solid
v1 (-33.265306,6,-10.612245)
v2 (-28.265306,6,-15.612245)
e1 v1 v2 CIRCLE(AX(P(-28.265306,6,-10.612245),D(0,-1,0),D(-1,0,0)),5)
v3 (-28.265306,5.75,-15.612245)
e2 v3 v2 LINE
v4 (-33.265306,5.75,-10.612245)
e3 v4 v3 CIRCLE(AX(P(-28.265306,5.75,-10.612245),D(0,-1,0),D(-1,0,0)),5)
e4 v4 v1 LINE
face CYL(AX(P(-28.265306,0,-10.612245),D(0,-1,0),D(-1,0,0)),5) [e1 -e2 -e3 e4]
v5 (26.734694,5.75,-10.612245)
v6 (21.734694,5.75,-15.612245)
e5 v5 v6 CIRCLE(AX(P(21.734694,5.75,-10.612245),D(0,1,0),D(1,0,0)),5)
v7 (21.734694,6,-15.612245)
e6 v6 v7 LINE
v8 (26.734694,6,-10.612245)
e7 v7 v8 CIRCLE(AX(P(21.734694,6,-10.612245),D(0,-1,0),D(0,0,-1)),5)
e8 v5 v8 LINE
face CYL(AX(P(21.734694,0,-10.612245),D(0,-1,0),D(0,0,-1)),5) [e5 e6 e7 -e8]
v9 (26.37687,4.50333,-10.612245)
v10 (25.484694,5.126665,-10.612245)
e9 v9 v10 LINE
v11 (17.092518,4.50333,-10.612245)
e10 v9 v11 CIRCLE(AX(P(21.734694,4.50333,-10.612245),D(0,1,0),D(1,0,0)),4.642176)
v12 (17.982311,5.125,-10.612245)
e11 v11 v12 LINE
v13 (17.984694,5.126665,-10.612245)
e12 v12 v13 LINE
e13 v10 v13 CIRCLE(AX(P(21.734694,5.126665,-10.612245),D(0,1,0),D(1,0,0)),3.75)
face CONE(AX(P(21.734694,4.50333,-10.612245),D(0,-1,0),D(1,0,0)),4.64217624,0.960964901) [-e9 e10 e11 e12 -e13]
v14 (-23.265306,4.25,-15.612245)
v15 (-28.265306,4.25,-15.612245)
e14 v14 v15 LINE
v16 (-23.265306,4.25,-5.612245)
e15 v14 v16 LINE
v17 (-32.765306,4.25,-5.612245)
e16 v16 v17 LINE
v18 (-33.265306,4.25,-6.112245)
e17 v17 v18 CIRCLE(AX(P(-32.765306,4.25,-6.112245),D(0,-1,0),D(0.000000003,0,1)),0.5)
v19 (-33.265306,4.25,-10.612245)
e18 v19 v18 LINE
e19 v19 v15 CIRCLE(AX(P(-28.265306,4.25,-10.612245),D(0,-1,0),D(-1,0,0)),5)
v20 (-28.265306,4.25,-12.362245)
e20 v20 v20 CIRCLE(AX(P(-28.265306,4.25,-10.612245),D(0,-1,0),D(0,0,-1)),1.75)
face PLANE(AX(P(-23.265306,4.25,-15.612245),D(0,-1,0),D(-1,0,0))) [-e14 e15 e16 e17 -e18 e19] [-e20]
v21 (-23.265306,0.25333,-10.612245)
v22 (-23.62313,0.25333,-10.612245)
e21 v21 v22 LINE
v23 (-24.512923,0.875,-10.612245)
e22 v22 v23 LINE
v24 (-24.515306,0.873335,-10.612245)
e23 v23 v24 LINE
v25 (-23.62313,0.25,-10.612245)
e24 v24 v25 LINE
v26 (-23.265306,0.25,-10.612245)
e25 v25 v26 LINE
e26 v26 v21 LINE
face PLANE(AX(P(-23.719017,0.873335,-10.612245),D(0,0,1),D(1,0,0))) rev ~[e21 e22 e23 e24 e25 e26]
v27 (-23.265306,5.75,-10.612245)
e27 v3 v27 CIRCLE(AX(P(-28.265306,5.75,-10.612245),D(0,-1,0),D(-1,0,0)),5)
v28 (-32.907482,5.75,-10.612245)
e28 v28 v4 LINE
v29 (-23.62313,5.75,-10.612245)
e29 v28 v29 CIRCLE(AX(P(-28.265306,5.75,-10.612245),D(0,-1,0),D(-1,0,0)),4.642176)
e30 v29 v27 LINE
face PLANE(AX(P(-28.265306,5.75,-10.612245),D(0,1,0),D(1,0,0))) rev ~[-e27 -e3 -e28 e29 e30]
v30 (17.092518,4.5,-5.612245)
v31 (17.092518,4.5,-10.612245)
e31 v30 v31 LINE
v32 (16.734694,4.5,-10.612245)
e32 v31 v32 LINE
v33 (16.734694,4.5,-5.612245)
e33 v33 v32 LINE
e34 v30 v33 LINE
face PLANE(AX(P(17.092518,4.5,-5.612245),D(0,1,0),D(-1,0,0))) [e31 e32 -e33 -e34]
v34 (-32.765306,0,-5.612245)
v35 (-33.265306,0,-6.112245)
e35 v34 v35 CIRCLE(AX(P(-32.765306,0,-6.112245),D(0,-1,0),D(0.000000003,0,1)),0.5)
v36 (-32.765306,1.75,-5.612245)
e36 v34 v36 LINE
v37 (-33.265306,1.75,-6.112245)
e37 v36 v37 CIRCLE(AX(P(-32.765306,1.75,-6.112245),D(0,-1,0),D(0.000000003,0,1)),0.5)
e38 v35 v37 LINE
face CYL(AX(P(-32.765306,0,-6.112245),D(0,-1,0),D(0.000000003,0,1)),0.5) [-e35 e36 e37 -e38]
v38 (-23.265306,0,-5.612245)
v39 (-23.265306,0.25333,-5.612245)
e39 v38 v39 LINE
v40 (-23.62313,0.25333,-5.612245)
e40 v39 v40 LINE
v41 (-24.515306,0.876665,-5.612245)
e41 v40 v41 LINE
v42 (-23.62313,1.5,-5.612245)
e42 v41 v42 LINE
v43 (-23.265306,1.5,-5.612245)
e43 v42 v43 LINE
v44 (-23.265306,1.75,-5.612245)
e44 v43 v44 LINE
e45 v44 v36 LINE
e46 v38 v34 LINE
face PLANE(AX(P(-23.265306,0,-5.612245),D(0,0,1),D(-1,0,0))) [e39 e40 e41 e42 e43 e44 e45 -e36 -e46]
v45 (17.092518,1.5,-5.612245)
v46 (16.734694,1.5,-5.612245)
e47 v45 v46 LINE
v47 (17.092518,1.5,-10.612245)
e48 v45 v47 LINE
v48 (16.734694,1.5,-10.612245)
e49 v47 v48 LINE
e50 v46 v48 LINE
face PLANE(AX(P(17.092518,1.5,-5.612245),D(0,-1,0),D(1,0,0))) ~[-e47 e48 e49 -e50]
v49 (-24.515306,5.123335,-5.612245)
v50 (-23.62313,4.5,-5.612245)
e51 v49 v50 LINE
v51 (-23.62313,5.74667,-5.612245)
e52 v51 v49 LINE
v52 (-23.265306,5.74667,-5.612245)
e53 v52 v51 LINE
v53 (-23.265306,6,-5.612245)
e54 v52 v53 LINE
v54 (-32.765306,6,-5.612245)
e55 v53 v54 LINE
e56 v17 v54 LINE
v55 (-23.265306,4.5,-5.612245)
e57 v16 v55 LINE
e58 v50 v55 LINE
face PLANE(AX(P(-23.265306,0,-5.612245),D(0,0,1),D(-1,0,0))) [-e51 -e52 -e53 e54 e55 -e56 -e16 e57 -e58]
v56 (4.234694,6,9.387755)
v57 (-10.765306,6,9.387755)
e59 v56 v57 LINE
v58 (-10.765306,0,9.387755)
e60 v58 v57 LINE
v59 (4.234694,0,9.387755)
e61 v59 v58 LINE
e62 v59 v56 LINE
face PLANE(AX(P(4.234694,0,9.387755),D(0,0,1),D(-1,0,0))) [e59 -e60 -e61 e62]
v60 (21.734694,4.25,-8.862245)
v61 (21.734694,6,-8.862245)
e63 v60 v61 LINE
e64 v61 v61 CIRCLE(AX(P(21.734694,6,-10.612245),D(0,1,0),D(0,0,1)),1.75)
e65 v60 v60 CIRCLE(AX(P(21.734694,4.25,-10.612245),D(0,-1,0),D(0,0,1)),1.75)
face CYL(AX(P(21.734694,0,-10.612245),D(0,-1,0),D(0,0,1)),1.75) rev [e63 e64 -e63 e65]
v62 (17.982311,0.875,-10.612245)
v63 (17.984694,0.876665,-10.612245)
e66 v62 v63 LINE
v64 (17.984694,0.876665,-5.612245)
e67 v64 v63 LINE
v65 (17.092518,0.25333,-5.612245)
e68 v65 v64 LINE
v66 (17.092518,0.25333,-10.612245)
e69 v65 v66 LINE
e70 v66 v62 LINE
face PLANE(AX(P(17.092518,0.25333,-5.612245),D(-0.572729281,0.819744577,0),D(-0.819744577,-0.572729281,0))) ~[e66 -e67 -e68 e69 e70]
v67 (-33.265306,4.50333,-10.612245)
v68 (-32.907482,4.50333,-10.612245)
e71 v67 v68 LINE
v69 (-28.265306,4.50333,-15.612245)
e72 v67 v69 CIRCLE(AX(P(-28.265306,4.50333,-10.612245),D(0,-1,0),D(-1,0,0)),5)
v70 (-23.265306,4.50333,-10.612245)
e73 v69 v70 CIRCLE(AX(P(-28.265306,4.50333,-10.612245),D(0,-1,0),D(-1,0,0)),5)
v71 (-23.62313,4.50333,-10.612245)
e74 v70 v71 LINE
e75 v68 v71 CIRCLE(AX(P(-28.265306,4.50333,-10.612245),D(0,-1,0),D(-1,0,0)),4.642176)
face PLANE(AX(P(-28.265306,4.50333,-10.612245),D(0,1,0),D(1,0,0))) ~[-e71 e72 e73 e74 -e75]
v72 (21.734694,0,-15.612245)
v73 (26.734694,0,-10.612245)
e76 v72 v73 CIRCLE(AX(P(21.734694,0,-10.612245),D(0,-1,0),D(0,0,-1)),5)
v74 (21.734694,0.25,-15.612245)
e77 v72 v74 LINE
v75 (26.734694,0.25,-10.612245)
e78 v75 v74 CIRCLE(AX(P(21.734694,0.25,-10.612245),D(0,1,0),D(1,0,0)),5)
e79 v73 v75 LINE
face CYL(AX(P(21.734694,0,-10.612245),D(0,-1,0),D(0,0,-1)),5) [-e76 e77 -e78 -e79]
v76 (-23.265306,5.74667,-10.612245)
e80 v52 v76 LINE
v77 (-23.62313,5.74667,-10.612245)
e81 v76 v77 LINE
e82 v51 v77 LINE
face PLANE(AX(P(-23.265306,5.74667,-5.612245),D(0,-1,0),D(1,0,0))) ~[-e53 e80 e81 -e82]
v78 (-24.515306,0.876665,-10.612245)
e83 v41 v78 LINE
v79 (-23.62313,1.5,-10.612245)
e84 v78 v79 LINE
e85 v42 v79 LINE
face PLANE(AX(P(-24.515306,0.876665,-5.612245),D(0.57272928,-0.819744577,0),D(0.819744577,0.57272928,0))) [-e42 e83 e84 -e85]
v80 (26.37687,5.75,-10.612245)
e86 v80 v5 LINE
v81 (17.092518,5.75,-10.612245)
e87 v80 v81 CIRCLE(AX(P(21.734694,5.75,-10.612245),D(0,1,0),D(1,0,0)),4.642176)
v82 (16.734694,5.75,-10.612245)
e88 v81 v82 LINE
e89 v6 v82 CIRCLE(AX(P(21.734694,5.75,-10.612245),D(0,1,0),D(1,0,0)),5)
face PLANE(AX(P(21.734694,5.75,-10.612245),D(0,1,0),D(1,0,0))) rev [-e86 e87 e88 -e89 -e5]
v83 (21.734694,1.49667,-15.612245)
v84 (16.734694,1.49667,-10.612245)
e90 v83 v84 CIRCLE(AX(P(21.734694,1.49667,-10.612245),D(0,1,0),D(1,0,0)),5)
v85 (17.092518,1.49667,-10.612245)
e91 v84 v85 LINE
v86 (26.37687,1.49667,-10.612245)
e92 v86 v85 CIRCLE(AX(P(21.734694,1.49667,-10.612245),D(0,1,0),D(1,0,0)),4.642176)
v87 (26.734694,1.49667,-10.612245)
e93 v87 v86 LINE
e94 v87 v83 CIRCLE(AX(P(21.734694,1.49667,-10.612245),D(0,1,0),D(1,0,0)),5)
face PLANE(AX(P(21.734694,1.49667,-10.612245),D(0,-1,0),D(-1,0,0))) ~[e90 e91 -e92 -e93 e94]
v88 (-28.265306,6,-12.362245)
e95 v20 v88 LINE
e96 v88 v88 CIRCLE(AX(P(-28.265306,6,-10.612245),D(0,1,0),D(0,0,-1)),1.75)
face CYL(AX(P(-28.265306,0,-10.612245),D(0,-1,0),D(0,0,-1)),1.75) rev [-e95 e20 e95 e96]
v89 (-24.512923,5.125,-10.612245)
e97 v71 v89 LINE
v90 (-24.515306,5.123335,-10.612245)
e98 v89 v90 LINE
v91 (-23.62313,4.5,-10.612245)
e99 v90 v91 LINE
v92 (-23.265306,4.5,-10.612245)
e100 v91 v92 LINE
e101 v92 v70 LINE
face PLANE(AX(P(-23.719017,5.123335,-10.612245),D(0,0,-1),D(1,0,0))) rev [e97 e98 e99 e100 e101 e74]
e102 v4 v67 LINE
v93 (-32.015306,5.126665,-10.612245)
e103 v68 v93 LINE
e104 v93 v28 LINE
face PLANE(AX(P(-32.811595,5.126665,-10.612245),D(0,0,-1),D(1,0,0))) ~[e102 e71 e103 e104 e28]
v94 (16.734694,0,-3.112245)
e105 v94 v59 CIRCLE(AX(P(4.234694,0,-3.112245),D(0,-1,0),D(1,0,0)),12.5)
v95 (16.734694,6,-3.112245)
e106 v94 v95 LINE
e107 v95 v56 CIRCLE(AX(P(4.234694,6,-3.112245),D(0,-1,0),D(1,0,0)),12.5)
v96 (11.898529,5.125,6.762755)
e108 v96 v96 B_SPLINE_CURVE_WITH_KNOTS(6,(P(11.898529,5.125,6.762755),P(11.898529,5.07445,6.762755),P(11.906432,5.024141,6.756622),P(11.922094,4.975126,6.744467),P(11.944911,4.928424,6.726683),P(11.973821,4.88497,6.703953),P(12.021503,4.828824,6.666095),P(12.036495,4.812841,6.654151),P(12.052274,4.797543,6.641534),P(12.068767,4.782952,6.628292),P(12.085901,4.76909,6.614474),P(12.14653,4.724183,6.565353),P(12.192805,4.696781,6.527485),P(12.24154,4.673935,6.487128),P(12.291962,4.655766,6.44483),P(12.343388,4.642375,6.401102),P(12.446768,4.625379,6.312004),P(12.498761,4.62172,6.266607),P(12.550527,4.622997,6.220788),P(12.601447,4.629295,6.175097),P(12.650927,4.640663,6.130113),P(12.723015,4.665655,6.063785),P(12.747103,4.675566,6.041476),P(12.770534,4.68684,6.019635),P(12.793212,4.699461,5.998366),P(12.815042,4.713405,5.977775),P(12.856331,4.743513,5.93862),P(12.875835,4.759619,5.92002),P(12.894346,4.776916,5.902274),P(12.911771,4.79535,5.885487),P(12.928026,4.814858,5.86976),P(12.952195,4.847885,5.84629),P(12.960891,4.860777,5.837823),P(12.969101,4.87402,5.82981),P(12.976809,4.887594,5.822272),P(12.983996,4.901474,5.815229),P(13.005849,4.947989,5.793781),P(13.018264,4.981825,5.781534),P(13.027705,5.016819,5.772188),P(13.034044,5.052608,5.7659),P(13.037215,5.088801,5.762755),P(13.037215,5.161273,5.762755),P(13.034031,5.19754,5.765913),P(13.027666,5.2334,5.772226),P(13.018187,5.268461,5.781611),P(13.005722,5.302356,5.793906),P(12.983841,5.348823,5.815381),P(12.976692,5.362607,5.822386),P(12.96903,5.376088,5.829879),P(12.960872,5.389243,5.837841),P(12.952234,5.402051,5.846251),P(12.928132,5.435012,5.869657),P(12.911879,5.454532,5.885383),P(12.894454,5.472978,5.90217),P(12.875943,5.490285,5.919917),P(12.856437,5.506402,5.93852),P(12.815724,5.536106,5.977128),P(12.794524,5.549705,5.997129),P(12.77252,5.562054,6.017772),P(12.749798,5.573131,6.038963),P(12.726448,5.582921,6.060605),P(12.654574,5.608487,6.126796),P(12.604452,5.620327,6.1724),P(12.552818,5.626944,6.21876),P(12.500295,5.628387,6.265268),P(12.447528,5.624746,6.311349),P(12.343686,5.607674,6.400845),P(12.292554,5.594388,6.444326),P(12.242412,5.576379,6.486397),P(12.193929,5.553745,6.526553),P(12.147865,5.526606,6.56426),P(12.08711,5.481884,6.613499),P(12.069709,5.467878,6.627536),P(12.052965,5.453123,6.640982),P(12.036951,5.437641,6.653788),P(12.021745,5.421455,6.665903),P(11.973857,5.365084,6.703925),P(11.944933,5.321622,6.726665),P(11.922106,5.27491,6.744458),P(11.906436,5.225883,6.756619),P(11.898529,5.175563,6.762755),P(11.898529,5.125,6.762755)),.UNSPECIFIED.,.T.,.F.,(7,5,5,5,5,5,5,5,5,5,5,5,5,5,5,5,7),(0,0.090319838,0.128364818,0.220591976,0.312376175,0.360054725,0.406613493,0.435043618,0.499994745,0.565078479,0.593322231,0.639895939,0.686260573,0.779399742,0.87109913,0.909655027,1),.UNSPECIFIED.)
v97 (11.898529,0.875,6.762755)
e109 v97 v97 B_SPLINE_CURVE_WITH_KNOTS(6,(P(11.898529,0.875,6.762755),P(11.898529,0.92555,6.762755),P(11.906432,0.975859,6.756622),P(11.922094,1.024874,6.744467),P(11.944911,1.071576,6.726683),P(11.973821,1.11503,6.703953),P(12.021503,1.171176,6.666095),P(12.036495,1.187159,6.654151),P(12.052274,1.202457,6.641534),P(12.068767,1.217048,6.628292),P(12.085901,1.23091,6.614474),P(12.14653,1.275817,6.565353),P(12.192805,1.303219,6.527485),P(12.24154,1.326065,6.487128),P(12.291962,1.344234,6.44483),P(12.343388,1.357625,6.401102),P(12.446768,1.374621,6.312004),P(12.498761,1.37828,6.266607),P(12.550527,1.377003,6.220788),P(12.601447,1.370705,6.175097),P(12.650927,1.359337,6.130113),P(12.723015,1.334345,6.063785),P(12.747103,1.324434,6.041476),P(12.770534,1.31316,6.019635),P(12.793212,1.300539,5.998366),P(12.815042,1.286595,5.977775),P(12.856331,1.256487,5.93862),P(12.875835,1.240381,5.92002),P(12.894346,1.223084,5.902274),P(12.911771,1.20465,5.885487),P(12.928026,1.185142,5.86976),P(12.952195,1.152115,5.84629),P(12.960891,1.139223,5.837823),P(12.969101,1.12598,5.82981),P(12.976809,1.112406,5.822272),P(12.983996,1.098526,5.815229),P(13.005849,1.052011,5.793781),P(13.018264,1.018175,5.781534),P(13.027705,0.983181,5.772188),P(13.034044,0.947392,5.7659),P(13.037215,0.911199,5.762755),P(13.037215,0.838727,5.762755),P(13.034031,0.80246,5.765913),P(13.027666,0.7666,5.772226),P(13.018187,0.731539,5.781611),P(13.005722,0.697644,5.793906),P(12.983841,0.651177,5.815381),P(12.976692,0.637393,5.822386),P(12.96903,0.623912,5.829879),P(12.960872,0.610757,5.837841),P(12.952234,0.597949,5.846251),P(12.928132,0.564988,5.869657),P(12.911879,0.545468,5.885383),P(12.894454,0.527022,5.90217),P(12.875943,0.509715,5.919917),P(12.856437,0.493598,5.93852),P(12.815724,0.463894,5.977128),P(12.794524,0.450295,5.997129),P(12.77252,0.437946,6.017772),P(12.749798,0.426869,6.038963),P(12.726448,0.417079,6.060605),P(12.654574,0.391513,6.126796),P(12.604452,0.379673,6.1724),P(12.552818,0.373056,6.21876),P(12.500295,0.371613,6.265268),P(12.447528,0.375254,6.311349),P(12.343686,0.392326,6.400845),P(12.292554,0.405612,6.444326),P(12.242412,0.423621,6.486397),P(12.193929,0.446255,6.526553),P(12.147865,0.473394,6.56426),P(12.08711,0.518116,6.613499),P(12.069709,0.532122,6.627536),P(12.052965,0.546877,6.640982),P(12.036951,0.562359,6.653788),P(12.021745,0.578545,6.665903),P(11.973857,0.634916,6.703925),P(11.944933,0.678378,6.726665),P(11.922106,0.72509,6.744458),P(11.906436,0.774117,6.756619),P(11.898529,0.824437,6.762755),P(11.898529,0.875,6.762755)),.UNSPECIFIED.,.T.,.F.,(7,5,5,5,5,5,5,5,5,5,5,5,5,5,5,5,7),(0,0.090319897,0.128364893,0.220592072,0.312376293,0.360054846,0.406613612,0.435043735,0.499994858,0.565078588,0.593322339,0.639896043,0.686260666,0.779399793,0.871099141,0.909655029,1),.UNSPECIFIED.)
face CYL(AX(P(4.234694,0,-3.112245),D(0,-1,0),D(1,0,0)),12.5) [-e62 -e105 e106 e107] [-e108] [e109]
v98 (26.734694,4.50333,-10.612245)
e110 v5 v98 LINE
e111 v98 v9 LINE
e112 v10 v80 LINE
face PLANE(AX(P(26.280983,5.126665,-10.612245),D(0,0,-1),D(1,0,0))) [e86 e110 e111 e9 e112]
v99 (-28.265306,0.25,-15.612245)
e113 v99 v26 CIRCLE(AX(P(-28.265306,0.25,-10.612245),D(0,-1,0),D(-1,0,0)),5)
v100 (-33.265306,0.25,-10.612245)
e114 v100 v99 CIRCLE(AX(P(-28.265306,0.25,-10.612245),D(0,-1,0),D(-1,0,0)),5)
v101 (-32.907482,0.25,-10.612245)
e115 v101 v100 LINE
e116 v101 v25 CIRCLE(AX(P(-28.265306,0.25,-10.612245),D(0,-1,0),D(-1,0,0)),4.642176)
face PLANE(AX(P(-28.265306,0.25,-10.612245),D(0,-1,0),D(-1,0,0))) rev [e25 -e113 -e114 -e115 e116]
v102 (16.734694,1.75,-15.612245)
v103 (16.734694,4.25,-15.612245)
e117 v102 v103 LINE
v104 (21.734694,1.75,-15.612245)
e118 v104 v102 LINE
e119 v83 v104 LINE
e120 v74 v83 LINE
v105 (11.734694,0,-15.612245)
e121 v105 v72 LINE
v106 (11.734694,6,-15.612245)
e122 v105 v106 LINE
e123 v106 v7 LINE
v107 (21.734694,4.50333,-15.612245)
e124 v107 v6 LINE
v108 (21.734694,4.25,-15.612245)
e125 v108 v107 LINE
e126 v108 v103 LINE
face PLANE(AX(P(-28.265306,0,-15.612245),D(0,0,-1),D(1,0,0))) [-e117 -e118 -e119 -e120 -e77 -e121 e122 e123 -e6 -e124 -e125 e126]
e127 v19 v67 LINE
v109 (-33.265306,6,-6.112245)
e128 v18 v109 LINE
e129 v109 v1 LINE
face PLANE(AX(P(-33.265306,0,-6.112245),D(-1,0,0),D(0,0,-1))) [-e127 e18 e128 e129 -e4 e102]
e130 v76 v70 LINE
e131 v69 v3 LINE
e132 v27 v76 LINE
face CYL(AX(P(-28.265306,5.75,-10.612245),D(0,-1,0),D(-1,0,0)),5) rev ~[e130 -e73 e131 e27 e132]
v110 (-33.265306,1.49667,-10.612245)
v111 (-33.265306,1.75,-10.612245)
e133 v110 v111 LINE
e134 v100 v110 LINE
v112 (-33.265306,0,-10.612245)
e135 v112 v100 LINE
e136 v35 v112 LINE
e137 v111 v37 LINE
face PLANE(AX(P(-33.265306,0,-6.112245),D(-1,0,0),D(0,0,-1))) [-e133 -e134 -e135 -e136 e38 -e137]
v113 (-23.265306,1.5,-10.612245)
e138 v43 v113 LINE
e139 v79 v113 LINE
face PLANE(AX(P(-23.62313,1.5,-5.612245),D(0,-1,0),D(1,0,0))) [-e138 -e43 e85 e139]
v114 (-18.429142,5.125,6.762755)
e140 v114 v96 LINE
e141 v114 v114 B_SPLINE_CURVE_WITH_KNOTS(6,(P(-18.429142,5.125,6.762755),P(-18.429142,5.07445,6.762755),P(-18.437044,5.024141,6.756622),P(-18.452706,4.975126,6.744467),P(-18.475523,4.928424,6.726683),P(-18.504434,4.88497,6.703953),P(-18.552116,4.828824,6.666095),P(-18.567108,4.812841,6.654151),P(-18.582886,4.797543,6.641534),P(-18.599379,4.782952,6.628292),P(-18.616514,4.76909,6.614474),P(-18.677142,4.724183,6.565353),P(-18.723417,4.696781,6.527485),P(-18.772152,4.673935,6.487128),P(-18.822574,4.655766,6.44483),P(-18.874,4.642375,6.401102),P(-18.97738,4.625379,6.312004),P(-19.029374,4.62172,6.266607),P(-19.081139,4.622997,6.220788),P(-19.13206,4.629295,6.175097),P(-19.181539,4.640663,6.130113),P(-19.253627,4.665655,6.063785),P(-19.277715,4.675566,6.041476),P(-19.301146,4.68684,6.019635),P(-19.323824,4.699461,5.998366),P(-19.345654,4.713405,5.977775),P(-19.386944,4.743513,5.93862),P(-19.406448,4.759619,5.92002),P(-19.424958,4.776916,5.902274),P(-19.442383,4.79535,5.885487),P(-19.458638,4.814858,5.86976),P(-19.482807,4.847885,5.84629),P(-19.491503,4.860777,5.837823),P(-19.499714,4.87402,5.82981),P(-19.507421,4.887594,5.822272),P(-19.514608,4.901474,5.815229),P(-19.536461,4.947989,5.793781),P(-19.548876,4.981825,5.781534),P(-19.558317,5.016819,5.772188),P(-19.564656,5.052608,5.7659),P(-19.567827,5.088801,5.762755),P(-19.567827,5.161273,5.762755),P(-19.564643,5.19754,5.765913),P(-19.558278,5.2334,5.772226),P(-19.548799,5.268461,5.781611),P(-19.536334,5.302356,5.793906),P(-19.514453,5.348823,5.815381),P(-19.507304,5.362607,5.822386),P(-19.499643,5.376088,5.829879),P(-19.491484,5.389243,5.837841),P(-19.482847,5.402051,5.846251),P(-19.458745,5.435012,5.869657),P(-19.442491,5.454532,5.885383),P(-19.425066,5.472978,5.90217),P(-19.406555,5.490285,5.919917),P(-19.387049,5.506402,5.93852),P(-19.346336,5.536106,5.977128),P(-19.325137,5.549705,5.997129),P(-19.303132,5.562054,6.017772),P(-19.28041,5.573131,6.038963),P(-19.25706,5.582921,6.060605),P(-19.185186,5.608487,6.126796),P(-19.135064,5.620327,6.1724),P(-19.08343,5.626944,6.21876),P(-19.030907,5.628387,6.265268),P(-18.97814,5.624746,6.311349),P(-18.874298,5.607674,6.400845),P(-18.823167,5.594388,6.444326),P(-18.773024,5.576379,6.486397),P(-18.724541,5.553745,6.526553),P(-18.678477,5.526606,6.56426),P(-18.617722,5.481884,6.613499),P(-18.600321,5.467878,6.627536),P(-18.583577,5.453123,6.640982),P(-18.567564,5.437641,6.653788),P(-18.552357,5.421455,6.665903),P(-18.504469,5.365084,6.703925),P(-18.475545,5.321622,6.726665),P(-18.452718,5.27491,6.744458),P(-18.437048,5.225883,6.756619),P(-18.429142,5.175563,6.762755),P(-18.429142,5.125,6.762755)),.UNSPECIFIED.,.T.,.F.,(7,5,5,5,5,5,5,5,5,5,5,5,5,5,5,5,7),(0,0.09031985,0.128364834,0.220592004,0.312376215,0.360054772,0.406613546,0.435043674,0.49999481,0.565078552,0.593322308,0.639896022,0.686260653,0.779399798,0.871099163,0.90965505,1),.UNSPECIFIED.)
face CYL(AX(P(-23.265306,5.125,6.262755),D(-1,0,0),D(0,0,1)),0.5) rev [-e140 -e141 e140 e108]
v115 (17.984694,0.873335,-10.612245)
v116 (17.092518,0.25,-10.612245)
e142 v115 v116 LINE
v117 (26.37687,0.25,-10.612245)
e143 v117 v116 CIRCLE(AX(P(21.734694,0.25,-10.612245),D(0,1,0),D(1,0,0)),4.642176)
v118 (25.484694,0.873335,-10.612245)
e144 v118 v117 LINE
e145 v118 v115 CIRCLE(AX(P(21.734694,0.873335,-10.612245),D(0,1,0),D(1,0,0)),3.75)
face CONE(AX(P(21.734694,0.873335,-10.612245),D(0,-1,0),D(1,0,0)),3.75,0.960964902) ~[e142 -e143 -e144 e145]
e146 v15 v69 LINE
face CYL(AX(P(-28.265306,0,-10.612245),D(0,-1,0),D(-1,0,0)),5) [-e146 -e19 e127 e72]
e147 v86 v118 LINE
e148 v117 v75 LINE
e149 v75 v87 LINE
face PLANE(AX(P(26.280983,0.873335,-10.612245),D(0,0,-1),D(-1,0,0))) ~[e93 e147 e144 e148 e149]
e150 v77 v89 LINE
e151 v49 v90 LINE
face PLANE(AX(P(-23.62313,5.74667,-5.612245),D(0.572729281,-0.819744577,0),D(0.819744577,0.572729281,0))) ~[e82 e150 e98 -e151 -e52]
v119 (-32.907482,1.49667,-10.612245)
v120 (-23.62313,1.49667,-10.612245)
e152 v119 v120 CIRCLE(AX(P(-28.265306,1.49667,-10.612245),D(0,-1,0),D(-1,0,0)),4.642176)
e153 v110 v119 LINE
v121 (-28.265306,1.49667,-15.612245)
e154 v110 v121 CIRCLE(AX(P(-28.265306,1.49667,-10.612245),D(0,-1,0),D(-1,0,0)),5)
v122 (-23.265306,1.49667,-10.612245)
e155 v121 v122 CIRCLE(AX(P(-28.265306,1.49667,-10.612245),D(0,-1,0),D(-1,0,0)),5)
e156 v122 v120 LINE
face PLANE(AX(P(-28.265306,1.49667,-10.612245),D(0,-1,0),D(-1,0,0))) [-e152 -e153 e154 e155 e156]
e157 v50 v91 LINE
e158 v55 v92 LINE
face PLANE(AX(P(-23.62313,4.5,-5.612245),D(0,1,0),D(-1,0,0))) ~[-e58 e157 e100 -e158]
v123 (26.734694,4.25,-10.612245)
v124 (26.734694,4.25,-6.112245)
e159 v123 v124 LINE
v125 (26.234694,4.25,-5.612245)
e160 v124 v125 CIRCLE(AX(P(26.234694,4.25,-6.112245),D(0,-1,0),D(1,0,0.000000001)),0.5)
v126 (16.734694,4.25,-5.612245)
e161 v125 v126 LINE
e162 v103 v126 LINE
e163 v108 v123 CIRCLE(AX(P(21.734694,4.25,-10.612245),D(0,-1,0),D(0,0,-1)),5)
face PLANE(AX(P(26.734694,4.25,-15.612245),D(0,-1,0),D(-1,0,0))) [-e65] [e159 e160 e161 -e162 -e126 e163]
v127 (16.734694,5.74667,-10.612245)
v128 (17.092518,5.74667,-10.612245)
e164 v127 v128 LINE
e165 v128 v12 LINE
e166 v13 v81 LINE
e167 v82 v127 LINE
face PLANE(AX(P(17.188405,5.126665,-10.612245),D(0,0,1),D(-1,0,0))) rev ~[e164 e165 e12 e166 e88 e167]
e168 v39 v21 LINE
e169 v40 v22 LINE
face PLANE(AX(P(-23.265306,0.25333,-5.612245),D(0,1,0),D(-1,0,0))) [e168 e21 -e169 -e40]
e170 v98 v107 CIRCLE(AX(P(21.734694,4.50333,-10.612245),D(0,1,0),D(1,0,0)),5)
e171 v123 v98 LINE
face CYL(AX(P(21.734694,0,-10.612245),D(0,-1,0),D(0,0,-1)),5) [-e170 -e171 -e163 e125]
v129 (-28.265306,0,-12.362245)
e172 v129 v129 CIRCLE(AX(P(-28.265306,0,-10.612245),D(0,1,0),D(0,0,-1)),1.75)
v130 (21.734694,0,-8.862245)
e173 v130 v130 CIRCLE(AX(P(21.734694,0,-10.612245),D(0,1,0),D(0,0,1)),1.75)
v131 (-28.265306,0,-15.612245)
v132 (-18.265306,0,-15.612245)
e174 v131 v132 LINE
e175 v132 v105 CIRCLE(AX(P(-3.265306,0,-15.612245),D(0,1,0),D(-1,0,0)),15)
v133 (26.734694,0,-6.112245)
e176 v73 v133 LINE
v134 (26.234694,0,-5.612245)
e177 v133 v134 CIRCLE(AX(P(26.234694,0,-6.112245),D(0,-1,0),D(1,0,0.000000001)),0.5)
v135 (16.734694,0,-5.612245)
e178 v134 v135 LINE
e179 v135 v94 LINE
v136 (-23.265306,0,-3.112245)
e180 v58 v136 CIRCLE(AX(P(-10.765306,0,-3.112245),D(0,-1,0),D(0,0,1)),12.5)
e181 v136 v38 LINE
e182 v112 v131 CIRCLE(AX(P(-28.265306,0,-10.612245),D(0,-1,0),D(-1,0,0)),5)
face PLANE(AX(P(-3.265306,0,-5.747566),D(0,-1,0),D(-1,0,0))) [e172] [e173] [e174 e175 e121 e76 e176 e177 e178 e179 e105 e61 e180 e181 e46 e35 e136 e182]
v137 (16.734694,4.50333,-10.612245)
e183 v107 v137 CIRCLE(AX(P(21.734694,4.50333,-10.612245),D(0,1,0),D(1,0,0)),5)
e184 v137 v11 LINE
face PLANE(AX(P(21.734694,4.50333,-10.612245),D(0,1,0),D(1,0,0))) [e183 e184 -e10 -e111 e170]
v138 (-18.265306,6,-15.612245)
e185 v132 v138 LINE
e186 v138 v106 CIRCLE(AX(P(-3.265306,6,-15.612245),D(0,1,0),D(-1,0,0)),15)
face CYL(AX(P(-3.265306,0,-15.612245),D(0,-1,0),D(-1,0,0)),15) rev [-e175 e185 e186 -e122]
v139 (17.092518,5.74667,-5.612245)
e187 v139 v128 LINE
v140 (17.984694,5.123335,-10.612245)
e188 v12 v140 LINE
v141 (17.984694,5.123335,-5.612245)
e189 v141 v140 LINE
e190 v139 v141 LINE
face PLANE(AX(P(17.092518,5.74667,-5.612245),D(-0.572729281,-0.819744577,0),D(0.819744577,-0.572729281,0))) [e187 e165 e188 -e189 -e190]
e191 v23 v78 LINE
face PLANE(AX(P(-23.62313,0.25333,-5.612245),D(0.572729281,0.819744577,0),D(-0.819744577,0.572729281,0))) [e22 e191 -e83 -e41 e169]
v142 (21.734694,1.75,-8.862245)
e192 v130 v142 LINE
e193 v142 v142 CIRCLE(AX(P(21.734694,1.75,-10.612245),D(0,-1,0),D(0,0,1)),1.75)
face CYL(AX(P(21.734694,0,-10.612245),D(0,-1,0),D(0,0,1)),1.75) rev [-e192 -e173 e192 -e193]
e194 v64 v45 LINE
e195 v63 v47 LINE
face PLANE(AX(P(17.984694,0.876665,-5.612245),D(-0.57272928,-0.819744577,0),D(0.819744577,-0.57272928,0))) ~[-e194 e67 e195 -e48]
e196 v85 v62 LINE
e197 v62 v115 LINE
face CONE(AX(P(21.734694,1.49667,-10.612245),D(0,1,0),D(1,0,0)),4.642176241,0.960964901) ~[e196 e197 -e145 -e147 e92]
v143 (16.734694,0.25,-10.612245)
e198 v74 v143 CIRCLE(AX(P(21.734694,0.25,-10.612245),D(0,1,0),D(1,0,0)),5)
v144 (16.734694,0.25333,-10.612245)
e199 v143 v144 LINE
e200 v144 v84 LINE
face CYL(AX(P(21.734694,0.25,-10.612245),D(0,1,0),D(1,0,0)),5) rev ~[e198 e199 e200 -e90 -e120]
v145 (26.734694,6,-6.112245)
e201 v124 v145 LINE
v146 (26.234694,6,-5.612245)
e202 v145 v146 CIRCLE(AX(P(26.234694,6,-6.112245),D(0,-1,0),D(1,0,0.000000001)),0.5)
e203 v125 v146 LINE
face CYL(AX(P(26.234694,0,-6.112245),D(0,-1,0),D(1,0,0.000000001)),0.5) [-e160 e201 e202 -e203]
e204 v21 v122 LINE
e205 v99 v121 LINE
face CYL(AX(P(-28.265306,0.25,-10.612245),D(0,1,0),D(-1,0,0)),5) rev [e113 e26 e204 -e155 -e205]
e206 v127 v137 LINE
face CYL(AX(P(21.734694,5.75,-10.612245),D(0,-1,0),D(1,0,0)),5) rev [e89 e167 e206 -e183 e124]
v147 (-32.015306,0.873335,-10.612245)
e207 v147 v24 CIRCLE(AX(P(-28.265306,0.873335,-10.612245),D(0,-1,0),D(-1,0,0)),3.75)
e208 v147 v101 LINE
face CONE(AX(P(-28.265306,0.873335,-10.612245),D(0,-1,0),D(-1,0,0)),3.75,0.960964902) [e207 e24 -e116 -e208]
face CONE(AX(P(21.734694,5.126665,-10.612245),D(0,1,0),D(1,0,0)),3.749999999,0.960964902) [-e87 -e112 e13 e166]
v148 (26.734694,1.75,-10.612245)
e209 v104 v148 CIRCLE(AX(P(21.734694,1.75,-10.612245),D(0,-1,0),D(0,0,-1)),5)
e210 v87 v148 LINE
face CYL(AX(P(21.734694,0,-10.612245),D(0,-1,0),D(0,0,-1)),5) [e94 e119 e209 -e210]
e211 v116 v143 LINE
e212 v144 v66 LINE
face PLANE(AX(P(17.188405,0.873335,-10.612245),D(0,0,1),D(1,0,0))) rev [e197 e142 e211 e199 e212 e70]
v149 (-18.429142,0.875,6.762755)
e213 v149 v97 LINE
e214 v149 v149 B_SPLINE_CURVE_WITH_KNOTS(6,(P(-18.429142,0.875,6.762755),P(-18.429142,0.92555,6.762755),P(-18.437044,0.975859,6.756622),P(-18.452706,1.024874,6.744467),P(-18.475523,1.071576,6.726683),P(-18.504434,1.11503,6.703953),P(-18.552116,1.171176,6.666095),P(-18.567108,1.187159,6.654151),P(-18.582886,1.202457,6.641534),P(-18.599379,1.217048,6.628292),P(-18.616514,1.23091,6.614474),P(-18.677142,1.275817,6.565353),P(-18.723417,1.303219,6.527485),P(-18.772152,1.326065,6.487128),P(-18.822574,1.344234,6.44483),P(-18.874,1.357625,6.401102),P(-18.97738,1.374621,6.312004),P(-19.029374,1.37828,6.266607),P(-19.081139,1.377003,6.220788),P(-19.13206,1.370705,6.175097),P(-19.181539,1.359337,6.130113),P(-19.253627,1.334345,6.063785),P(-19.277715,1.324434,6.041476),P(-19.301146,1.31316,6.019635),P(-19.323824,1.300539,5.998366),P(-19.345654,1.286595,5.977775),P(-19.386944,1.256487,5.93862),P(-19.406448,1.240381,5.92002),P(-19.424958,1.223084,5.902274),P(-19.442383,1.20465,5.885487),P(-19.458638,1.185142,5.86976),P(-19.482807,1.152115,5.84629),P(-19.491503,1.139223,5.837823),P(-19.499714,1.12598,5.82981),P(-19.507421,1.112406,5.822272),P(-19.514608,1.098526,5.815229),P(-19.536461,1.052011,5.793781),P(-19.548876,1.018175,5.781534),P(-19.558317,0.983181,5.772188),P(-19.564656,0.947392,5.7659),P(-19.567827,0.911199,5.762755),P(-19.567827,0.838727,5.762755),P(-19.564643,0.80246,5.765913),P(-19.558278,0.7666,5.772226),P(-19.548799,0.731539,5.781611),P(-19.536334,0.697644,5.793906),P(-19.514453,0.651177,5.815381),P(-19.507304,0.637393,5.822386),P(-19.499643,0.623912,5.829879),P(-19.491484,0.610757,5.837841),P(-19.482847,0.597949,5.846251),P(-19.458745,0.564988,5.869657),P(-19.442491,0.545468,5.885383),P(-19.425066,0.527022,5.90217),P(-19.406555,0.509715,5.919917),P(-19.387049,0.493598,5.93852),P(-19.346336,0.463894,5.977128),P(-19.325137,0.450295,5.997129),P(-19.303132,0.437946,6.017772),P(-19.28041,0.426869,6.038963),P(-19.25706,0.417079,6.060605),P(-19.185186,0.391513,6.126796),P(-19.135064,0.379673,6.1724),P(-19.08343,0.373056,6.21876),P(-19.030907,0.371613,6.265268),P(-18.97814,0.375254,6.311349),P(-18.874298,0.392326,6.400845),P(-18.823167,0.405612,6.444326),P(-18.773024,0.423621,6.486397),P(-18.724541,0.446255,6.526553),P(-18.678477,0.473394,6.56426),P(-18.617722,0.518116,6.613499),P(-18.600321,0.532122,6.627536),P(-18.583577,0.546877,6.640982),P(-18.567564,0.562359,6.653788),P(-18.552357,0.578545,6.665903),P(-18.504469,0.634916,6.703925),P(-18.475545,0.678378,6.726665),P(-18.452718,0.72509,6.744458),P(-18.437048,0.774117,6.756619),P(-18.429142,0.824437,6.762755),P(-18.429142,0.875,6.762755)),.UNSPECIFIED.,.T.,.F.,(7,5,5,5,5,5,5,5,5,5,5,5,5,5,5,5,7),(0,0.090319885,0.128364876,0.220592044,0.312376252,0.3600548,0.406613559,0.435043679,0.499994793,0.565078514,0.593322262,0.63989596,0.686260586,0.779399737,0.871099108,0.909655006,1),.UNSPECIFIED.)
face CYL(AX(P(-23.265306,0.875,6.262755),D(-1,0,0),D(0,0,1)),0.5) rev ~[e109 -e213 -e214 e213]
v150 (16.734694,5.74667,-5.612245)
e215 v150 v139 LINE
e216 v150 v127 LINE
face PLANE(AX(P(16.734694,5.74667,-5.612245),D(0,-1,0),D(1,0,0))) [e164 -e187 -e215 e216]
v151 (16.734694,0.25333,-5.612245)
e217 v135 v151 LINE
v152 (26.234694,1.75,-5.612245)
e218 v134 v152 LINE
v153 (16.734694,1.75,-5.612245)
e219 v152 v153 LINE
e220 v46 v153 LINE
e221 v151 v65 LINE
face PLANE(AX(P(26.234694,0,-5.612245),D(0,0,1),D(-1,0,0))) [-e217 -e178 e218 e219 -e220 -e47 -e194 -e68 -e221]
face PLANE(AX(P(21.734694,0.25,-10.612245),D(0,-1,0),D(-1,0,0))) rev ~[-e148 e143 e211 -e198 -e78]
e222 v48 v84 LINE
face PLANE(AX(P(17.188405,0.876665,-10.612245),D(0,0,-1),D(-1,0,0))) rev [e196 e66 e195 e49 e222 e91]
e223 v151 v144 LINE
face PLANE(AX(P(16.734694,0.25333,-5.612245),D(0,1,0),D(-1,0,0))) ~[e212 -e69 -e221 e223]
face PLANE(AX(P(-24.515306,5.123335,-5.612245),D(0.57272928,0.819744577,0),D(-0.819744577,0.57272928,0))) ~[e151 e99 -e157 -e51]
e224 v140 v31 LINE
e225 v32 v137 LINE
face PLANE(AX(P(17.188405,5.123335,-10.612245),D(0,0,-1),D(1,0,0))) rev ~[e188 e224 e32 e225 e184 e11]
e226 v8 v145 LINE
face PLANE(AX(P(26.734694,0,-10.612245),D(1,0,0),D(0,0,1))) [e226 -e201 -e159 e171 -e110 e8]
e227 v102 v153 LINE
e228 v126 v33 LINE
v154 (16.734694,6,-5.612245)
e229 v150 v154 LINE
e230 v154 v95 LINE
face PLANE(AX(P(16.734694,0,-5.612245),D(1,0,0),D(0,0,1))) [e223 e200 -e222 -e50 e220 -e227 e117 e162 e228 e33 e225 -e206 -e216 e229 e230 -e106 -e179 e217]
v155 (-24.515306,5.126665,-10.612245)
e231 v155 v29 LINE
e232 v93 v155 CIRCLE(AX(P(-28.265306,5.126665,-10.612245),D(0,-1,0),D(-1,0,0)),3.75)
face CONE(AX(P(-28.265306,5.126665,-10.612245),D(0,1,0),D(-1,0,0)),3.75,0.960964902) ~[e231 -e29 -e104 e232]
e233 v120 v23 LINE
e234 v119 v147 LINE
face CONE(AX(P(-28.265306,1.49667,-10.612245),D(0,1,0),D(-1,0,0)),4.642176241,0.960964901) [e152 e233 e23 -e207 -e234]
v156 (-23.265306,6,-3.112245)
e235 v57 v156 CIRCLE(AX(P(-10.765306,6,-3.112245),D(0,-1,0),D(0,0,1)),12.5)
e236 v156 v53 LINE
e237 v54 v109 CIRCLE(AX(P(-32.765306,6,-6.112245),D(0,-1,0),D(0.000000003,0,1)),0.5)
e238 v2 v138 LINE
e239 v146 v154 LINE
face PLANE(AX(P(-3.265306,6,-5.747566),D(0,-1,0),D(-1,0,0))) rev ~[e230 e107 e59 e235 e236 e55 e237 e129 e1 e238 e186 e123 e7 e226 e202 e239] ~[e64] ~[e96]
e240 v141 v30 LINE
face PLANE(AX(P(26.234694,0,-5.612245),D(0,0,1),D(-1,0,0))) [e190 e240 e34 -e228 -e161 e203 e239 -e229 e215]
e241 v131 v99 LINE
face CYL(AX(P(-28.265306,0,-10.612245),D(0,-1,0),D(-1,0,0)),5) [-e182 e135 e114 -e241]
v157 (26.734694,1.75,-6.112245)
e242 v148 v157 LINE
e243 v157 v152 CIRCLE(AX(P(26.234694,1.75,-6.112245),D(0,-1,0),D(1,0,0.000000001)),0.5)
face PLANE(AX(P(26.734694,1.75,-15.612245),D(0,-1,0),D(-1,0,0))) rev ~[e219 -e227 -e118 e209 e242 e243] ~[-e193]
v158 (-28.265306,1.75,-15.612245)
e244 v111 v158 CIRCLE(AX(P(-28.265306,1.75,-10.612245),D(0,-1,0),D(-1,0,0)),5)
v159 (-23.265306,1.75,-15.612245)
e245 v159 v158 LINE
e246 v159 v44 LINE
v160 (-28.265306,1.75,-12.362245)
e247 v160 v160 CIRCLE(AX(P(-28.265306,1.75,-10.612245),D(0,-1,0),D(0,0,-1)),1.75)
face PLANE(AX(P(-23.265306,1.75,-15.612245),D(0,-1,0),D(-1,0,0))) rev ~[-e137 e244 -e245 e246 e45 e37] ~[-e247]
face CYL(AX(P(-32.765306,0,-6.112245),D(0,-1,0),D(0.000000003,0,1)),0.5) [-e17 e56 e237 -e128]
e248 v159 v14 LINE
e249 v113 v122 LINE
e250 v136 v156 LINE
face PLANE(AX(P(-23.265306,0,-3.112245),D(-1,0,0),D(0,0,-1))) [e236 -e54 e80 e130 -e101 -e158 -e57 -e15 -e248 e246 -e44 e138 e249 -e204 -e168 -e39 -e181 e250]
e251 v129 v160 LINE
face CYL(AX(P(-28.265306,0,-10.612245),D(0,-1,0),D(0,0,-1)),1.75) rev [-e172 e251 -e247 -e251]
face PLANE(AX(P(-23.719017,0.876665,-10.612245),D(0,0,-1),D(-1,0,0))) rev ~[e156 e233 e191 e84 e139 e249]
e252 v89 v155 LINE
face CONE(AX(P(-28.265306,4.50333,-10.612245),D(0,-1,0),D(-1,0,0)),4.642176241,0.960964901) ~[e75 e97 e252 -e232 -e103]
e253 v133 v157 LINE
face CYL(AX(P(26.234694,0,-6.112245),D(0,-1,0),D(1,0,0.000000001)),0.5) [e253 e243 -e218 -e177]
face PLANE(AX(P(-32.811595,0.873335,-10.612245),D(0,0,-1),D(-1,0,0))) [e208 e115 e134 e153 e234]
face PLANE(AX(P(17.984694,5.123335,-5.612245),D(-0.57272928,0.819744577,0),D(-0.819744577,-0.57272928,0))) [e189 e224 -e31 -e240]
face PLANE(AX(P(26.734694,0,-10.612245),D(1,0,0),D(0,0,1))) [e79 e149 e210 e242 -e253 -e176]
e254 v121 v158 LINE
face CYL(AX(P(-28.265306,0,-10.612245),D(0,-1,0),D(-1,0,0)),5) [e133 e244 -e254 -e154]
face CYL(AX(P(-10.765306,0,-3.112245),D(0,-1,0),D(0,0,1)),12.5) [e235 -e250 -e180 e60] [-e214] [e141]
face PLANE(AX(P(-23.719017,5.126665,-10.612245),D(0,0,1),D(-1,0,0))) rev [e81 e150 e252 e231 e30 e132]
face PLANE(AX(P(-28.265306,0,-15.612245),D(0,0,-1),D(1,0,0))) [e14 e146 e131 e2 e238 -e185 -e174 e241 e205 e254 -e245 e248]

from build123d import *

# Parameters (mm, degrees)
SKETCH3_R            = 1.75
BOSS_EXTRUDE1_DEPTH  = 6
SKETCH4_W            = 10
SKETCH4_H            = 2.5
CUT_EXTRUDE1_DEPTH   = 10
CUT_REVOLVE1_ANGLE   = 180
CUT_EXTRUDE2_DEPTH   = 5
SKETCH10_R           = 0.5
CUT_EXTRUDE3_DEPTH   = 40
MIRROR6_COPY_1_ANGLE = 180
MIRROR6_COPY_2_DEPTH = 5
CUT_EXTRUDE4_DEPTH   = 6


with BuildPart() as part:
    # Sketch3 → Boss-Extrude1 (new body)
    with BuildSketch(Plane(origin=(0, 0, 0), x_dir=(1, 0, 0), z_dir=(0, 1, 0))):
        with BuildLine():
            Line((-23.265306122, 15.612244898), (16.734693878, 15.612244898))
            Line((16.734693878, 15.612244898), (21.734693878, 15.612244898))
            ThreePointArc((21.734693878, 15.612244898), (25.270227783, 14.147778804), (26.734693878, 10.612244898))
            Line((26.734693878, 10.612244898), (26.734693878, 6.112244898))
            ThreePointArc((26.734693878, 6.112244898), (26.588247268, 5.758691507), (26.234693878, 5.612244898))
            Line((26.234693878, 5.612244898), (16.734693878, 5.612244898))
            Line((16.734693878, 5.612244898), (16.734693878, 3.112244898))
            ThreePointArc((16.734693878, 3.112244898), (13.073528642, -5.726589867), (4.234693878, -9.387755102))
            Line((4.234693878, -9.387755102), (-10.765306122, -9.387755102))
            ThreePointArc((-10.765306122, -9.387755102), (-19.604140887, -5.726589867), (-23.265306122, 3.112244898))
            Line((-23.265306122, 3.112244898), (-23.265306122, 5.612244898))
            Line((-23.265306122, 5.612244898), (-32.765306122, 5.612244898))
            ThreePointArc((-32.765306122, 5.612244898), (-33.118859513, 5.758691507), (-33.265306122, 6.112244898))
            Line((-33.265306122, 6.112244898), (-33.265306122, 10.612244898))
            ThreePointArc((-33.265306122, 10.612244898), (-31.800840028, 14.147778804), (-28.265306122, 15.612244898))
            Line((-28.265306122, 15.612244898), (-23.265306122, 15.612244898))
        make_face()
        with Locations((21.734693878, 10.612244898)):
            Circle(SKETCH3_R, mode=Mode.SUBTRACT)
        with Locations((-28.265306122, 10.612244898)):
            Circle(SKETCH3_R, mode=Mode.SUBTRACT)
    extrude(amount=BOSS_EXTRUDE1_DEPTH)

    # Sketch4 → Cut-Extrude1 (cut)
    with BuildSketch(Plane(origin=(0, 0, -15.612244898), x_dir=(-1, 0, 0), z_dir=(0, 0, -1))):
        with Locations((28.265306122, 3)):
            Rectangle(SKETCH4_W, SKETCH4_H)
        with Locations((-21.734693878, 3)):
            Rectangle(SKETCH4_W, SKETCH4_H)
    extrude(amount=-CUT_EXTRUDE1_DEPTH, mode=Mode.SUBTRACT)

    # Sketch7 → Cut-Revolve1 (revolve, cut)
    with BuildSketch(Plane.XY.offset(-10.612244898)):
        Polygon((-33.265306122, 1.496669927), (-32.907482363, 1.496669927), (-32.015306122, 0.873334963), (-32.907482363, 0.25), (-33.265306122, 0.25), align=None)
    cut_revolve1 = revolve(axis=Axis((-28.265306122, 1.746669927, -10.612244898), (0, -1, 0)), revolution_arc=CUT_REVOLVE1_ANGLE, mode=Mode.SUBTRACT)

    # Sketch9 → Cut-Extrude2 (cut)
    with BuildSketch(Plane.XY.offset(-5.612244898)):
        Polygon((-23.623129882, 0.253330073), (-24.515306122, 0.876665037), (-23.623129882, 1.5), (-23.265306122, 1.5), (-23.265306122, 0.253330073), align=None)
    cut_extrude2 = extrude(amount=-CUT_EXTRUDE2_DEPTH, mode=Mode.SUBTRACT)

    # Sketch10 → Cut-Extrude3 (cut)
    with BuildSketch(Plane.ZY.offset(23.265306122)):
        with Locations((6.262755102, 0.875)):
            Circle(SKETCH10_R)
    cut_extrude3 = extrude(amount=-CUT_EXTRUDE3_DEPTH, mode=Mode.SUBTRACT)

    # Mirror5: Cut-Revolve1, Cut-Extrude2 across plane
    add(cut_revolve1.mirror(Plane.ZY.offset(3.265306122)), mode=Mode.SUBTRACT)
    add(cut_extrude2.mirror(Plane.ZY.offset(3.265306122)), mode=Mode.SUBTRACT)

    # Mirror6: Cut-Revolve1, Cut-Extrude2, Cut-Extrude3 across plane
    add(cut_revolve1.mirror(Plane.ZX.offset(3)), mode=Mode.SUBTRACT)
    add(cut_extrude2.mirror(Plane.ZX.offset(3)), mode=Mode.SUBTRACT)
    add(cut_extrude3.mirror(Plane.ZX.offset(3)), mode=Mode.SUBTRACT)

    # Mirror6 copy 1 sketch → Mirror6 copy 1 (revolve, cut)
    with BuildSketch(Plane(origin=(-6.530612245, 6, -10.612244898), x_dir=(-1, 0, 0), z_dir=(0, 0, 1))):
        Polygon((-33.265306122, 1.496669927), (-32.907482363, 1.496669927), (-32.015306122, 0.873334963), (-32.907482363, 0.25), (-33.265306122, 0.25), align=None)
    revolve(axis=Axis((21.734693878, 4.253330073, -10.612244898), (0, 1, 0)), revolution_arc=MIRROR6_COPY_1_ANGLE, mode=Mode.SUBTRACT)

    # Mirror6 copy 2 sketch → Mirror6 copy 2 (cut)
    with BuildSketch(Plane(origin=(-6.530612245, 6, -5.612244898), x_dir=(-1, 0, 0), z_dir=(0, 0, 1))):
        Polygon((-23.623129882, 0.253330073), (-24.515306122, 0.876665037), (-23.623129882, 1.5), (-23.265306122, 1.5), (-23.265306122, 0.253330073), align=None)
    extrude(amount=-MIRROR6_COPY_2_DEPTH, mode=Mode.SUBTRACT)

    # Sketch11 → Cut-Extrude4 (cut)
    with BuildSketch(Plane.XZ):
        with BuildLine():
            Line((11.734693878, -15.612244898), (-18.265306122, -15.612244898))
            ThreePointArc((-18.265306122, -15.612244898), (-3.265306122, -0.612244898), (11.734693878, -15.612244898))
        make_face()
    extrude(amount=-CUT_EXTRUDE4_DEPTH, mode=Mode.SUBTRACT)


solid = part.part
